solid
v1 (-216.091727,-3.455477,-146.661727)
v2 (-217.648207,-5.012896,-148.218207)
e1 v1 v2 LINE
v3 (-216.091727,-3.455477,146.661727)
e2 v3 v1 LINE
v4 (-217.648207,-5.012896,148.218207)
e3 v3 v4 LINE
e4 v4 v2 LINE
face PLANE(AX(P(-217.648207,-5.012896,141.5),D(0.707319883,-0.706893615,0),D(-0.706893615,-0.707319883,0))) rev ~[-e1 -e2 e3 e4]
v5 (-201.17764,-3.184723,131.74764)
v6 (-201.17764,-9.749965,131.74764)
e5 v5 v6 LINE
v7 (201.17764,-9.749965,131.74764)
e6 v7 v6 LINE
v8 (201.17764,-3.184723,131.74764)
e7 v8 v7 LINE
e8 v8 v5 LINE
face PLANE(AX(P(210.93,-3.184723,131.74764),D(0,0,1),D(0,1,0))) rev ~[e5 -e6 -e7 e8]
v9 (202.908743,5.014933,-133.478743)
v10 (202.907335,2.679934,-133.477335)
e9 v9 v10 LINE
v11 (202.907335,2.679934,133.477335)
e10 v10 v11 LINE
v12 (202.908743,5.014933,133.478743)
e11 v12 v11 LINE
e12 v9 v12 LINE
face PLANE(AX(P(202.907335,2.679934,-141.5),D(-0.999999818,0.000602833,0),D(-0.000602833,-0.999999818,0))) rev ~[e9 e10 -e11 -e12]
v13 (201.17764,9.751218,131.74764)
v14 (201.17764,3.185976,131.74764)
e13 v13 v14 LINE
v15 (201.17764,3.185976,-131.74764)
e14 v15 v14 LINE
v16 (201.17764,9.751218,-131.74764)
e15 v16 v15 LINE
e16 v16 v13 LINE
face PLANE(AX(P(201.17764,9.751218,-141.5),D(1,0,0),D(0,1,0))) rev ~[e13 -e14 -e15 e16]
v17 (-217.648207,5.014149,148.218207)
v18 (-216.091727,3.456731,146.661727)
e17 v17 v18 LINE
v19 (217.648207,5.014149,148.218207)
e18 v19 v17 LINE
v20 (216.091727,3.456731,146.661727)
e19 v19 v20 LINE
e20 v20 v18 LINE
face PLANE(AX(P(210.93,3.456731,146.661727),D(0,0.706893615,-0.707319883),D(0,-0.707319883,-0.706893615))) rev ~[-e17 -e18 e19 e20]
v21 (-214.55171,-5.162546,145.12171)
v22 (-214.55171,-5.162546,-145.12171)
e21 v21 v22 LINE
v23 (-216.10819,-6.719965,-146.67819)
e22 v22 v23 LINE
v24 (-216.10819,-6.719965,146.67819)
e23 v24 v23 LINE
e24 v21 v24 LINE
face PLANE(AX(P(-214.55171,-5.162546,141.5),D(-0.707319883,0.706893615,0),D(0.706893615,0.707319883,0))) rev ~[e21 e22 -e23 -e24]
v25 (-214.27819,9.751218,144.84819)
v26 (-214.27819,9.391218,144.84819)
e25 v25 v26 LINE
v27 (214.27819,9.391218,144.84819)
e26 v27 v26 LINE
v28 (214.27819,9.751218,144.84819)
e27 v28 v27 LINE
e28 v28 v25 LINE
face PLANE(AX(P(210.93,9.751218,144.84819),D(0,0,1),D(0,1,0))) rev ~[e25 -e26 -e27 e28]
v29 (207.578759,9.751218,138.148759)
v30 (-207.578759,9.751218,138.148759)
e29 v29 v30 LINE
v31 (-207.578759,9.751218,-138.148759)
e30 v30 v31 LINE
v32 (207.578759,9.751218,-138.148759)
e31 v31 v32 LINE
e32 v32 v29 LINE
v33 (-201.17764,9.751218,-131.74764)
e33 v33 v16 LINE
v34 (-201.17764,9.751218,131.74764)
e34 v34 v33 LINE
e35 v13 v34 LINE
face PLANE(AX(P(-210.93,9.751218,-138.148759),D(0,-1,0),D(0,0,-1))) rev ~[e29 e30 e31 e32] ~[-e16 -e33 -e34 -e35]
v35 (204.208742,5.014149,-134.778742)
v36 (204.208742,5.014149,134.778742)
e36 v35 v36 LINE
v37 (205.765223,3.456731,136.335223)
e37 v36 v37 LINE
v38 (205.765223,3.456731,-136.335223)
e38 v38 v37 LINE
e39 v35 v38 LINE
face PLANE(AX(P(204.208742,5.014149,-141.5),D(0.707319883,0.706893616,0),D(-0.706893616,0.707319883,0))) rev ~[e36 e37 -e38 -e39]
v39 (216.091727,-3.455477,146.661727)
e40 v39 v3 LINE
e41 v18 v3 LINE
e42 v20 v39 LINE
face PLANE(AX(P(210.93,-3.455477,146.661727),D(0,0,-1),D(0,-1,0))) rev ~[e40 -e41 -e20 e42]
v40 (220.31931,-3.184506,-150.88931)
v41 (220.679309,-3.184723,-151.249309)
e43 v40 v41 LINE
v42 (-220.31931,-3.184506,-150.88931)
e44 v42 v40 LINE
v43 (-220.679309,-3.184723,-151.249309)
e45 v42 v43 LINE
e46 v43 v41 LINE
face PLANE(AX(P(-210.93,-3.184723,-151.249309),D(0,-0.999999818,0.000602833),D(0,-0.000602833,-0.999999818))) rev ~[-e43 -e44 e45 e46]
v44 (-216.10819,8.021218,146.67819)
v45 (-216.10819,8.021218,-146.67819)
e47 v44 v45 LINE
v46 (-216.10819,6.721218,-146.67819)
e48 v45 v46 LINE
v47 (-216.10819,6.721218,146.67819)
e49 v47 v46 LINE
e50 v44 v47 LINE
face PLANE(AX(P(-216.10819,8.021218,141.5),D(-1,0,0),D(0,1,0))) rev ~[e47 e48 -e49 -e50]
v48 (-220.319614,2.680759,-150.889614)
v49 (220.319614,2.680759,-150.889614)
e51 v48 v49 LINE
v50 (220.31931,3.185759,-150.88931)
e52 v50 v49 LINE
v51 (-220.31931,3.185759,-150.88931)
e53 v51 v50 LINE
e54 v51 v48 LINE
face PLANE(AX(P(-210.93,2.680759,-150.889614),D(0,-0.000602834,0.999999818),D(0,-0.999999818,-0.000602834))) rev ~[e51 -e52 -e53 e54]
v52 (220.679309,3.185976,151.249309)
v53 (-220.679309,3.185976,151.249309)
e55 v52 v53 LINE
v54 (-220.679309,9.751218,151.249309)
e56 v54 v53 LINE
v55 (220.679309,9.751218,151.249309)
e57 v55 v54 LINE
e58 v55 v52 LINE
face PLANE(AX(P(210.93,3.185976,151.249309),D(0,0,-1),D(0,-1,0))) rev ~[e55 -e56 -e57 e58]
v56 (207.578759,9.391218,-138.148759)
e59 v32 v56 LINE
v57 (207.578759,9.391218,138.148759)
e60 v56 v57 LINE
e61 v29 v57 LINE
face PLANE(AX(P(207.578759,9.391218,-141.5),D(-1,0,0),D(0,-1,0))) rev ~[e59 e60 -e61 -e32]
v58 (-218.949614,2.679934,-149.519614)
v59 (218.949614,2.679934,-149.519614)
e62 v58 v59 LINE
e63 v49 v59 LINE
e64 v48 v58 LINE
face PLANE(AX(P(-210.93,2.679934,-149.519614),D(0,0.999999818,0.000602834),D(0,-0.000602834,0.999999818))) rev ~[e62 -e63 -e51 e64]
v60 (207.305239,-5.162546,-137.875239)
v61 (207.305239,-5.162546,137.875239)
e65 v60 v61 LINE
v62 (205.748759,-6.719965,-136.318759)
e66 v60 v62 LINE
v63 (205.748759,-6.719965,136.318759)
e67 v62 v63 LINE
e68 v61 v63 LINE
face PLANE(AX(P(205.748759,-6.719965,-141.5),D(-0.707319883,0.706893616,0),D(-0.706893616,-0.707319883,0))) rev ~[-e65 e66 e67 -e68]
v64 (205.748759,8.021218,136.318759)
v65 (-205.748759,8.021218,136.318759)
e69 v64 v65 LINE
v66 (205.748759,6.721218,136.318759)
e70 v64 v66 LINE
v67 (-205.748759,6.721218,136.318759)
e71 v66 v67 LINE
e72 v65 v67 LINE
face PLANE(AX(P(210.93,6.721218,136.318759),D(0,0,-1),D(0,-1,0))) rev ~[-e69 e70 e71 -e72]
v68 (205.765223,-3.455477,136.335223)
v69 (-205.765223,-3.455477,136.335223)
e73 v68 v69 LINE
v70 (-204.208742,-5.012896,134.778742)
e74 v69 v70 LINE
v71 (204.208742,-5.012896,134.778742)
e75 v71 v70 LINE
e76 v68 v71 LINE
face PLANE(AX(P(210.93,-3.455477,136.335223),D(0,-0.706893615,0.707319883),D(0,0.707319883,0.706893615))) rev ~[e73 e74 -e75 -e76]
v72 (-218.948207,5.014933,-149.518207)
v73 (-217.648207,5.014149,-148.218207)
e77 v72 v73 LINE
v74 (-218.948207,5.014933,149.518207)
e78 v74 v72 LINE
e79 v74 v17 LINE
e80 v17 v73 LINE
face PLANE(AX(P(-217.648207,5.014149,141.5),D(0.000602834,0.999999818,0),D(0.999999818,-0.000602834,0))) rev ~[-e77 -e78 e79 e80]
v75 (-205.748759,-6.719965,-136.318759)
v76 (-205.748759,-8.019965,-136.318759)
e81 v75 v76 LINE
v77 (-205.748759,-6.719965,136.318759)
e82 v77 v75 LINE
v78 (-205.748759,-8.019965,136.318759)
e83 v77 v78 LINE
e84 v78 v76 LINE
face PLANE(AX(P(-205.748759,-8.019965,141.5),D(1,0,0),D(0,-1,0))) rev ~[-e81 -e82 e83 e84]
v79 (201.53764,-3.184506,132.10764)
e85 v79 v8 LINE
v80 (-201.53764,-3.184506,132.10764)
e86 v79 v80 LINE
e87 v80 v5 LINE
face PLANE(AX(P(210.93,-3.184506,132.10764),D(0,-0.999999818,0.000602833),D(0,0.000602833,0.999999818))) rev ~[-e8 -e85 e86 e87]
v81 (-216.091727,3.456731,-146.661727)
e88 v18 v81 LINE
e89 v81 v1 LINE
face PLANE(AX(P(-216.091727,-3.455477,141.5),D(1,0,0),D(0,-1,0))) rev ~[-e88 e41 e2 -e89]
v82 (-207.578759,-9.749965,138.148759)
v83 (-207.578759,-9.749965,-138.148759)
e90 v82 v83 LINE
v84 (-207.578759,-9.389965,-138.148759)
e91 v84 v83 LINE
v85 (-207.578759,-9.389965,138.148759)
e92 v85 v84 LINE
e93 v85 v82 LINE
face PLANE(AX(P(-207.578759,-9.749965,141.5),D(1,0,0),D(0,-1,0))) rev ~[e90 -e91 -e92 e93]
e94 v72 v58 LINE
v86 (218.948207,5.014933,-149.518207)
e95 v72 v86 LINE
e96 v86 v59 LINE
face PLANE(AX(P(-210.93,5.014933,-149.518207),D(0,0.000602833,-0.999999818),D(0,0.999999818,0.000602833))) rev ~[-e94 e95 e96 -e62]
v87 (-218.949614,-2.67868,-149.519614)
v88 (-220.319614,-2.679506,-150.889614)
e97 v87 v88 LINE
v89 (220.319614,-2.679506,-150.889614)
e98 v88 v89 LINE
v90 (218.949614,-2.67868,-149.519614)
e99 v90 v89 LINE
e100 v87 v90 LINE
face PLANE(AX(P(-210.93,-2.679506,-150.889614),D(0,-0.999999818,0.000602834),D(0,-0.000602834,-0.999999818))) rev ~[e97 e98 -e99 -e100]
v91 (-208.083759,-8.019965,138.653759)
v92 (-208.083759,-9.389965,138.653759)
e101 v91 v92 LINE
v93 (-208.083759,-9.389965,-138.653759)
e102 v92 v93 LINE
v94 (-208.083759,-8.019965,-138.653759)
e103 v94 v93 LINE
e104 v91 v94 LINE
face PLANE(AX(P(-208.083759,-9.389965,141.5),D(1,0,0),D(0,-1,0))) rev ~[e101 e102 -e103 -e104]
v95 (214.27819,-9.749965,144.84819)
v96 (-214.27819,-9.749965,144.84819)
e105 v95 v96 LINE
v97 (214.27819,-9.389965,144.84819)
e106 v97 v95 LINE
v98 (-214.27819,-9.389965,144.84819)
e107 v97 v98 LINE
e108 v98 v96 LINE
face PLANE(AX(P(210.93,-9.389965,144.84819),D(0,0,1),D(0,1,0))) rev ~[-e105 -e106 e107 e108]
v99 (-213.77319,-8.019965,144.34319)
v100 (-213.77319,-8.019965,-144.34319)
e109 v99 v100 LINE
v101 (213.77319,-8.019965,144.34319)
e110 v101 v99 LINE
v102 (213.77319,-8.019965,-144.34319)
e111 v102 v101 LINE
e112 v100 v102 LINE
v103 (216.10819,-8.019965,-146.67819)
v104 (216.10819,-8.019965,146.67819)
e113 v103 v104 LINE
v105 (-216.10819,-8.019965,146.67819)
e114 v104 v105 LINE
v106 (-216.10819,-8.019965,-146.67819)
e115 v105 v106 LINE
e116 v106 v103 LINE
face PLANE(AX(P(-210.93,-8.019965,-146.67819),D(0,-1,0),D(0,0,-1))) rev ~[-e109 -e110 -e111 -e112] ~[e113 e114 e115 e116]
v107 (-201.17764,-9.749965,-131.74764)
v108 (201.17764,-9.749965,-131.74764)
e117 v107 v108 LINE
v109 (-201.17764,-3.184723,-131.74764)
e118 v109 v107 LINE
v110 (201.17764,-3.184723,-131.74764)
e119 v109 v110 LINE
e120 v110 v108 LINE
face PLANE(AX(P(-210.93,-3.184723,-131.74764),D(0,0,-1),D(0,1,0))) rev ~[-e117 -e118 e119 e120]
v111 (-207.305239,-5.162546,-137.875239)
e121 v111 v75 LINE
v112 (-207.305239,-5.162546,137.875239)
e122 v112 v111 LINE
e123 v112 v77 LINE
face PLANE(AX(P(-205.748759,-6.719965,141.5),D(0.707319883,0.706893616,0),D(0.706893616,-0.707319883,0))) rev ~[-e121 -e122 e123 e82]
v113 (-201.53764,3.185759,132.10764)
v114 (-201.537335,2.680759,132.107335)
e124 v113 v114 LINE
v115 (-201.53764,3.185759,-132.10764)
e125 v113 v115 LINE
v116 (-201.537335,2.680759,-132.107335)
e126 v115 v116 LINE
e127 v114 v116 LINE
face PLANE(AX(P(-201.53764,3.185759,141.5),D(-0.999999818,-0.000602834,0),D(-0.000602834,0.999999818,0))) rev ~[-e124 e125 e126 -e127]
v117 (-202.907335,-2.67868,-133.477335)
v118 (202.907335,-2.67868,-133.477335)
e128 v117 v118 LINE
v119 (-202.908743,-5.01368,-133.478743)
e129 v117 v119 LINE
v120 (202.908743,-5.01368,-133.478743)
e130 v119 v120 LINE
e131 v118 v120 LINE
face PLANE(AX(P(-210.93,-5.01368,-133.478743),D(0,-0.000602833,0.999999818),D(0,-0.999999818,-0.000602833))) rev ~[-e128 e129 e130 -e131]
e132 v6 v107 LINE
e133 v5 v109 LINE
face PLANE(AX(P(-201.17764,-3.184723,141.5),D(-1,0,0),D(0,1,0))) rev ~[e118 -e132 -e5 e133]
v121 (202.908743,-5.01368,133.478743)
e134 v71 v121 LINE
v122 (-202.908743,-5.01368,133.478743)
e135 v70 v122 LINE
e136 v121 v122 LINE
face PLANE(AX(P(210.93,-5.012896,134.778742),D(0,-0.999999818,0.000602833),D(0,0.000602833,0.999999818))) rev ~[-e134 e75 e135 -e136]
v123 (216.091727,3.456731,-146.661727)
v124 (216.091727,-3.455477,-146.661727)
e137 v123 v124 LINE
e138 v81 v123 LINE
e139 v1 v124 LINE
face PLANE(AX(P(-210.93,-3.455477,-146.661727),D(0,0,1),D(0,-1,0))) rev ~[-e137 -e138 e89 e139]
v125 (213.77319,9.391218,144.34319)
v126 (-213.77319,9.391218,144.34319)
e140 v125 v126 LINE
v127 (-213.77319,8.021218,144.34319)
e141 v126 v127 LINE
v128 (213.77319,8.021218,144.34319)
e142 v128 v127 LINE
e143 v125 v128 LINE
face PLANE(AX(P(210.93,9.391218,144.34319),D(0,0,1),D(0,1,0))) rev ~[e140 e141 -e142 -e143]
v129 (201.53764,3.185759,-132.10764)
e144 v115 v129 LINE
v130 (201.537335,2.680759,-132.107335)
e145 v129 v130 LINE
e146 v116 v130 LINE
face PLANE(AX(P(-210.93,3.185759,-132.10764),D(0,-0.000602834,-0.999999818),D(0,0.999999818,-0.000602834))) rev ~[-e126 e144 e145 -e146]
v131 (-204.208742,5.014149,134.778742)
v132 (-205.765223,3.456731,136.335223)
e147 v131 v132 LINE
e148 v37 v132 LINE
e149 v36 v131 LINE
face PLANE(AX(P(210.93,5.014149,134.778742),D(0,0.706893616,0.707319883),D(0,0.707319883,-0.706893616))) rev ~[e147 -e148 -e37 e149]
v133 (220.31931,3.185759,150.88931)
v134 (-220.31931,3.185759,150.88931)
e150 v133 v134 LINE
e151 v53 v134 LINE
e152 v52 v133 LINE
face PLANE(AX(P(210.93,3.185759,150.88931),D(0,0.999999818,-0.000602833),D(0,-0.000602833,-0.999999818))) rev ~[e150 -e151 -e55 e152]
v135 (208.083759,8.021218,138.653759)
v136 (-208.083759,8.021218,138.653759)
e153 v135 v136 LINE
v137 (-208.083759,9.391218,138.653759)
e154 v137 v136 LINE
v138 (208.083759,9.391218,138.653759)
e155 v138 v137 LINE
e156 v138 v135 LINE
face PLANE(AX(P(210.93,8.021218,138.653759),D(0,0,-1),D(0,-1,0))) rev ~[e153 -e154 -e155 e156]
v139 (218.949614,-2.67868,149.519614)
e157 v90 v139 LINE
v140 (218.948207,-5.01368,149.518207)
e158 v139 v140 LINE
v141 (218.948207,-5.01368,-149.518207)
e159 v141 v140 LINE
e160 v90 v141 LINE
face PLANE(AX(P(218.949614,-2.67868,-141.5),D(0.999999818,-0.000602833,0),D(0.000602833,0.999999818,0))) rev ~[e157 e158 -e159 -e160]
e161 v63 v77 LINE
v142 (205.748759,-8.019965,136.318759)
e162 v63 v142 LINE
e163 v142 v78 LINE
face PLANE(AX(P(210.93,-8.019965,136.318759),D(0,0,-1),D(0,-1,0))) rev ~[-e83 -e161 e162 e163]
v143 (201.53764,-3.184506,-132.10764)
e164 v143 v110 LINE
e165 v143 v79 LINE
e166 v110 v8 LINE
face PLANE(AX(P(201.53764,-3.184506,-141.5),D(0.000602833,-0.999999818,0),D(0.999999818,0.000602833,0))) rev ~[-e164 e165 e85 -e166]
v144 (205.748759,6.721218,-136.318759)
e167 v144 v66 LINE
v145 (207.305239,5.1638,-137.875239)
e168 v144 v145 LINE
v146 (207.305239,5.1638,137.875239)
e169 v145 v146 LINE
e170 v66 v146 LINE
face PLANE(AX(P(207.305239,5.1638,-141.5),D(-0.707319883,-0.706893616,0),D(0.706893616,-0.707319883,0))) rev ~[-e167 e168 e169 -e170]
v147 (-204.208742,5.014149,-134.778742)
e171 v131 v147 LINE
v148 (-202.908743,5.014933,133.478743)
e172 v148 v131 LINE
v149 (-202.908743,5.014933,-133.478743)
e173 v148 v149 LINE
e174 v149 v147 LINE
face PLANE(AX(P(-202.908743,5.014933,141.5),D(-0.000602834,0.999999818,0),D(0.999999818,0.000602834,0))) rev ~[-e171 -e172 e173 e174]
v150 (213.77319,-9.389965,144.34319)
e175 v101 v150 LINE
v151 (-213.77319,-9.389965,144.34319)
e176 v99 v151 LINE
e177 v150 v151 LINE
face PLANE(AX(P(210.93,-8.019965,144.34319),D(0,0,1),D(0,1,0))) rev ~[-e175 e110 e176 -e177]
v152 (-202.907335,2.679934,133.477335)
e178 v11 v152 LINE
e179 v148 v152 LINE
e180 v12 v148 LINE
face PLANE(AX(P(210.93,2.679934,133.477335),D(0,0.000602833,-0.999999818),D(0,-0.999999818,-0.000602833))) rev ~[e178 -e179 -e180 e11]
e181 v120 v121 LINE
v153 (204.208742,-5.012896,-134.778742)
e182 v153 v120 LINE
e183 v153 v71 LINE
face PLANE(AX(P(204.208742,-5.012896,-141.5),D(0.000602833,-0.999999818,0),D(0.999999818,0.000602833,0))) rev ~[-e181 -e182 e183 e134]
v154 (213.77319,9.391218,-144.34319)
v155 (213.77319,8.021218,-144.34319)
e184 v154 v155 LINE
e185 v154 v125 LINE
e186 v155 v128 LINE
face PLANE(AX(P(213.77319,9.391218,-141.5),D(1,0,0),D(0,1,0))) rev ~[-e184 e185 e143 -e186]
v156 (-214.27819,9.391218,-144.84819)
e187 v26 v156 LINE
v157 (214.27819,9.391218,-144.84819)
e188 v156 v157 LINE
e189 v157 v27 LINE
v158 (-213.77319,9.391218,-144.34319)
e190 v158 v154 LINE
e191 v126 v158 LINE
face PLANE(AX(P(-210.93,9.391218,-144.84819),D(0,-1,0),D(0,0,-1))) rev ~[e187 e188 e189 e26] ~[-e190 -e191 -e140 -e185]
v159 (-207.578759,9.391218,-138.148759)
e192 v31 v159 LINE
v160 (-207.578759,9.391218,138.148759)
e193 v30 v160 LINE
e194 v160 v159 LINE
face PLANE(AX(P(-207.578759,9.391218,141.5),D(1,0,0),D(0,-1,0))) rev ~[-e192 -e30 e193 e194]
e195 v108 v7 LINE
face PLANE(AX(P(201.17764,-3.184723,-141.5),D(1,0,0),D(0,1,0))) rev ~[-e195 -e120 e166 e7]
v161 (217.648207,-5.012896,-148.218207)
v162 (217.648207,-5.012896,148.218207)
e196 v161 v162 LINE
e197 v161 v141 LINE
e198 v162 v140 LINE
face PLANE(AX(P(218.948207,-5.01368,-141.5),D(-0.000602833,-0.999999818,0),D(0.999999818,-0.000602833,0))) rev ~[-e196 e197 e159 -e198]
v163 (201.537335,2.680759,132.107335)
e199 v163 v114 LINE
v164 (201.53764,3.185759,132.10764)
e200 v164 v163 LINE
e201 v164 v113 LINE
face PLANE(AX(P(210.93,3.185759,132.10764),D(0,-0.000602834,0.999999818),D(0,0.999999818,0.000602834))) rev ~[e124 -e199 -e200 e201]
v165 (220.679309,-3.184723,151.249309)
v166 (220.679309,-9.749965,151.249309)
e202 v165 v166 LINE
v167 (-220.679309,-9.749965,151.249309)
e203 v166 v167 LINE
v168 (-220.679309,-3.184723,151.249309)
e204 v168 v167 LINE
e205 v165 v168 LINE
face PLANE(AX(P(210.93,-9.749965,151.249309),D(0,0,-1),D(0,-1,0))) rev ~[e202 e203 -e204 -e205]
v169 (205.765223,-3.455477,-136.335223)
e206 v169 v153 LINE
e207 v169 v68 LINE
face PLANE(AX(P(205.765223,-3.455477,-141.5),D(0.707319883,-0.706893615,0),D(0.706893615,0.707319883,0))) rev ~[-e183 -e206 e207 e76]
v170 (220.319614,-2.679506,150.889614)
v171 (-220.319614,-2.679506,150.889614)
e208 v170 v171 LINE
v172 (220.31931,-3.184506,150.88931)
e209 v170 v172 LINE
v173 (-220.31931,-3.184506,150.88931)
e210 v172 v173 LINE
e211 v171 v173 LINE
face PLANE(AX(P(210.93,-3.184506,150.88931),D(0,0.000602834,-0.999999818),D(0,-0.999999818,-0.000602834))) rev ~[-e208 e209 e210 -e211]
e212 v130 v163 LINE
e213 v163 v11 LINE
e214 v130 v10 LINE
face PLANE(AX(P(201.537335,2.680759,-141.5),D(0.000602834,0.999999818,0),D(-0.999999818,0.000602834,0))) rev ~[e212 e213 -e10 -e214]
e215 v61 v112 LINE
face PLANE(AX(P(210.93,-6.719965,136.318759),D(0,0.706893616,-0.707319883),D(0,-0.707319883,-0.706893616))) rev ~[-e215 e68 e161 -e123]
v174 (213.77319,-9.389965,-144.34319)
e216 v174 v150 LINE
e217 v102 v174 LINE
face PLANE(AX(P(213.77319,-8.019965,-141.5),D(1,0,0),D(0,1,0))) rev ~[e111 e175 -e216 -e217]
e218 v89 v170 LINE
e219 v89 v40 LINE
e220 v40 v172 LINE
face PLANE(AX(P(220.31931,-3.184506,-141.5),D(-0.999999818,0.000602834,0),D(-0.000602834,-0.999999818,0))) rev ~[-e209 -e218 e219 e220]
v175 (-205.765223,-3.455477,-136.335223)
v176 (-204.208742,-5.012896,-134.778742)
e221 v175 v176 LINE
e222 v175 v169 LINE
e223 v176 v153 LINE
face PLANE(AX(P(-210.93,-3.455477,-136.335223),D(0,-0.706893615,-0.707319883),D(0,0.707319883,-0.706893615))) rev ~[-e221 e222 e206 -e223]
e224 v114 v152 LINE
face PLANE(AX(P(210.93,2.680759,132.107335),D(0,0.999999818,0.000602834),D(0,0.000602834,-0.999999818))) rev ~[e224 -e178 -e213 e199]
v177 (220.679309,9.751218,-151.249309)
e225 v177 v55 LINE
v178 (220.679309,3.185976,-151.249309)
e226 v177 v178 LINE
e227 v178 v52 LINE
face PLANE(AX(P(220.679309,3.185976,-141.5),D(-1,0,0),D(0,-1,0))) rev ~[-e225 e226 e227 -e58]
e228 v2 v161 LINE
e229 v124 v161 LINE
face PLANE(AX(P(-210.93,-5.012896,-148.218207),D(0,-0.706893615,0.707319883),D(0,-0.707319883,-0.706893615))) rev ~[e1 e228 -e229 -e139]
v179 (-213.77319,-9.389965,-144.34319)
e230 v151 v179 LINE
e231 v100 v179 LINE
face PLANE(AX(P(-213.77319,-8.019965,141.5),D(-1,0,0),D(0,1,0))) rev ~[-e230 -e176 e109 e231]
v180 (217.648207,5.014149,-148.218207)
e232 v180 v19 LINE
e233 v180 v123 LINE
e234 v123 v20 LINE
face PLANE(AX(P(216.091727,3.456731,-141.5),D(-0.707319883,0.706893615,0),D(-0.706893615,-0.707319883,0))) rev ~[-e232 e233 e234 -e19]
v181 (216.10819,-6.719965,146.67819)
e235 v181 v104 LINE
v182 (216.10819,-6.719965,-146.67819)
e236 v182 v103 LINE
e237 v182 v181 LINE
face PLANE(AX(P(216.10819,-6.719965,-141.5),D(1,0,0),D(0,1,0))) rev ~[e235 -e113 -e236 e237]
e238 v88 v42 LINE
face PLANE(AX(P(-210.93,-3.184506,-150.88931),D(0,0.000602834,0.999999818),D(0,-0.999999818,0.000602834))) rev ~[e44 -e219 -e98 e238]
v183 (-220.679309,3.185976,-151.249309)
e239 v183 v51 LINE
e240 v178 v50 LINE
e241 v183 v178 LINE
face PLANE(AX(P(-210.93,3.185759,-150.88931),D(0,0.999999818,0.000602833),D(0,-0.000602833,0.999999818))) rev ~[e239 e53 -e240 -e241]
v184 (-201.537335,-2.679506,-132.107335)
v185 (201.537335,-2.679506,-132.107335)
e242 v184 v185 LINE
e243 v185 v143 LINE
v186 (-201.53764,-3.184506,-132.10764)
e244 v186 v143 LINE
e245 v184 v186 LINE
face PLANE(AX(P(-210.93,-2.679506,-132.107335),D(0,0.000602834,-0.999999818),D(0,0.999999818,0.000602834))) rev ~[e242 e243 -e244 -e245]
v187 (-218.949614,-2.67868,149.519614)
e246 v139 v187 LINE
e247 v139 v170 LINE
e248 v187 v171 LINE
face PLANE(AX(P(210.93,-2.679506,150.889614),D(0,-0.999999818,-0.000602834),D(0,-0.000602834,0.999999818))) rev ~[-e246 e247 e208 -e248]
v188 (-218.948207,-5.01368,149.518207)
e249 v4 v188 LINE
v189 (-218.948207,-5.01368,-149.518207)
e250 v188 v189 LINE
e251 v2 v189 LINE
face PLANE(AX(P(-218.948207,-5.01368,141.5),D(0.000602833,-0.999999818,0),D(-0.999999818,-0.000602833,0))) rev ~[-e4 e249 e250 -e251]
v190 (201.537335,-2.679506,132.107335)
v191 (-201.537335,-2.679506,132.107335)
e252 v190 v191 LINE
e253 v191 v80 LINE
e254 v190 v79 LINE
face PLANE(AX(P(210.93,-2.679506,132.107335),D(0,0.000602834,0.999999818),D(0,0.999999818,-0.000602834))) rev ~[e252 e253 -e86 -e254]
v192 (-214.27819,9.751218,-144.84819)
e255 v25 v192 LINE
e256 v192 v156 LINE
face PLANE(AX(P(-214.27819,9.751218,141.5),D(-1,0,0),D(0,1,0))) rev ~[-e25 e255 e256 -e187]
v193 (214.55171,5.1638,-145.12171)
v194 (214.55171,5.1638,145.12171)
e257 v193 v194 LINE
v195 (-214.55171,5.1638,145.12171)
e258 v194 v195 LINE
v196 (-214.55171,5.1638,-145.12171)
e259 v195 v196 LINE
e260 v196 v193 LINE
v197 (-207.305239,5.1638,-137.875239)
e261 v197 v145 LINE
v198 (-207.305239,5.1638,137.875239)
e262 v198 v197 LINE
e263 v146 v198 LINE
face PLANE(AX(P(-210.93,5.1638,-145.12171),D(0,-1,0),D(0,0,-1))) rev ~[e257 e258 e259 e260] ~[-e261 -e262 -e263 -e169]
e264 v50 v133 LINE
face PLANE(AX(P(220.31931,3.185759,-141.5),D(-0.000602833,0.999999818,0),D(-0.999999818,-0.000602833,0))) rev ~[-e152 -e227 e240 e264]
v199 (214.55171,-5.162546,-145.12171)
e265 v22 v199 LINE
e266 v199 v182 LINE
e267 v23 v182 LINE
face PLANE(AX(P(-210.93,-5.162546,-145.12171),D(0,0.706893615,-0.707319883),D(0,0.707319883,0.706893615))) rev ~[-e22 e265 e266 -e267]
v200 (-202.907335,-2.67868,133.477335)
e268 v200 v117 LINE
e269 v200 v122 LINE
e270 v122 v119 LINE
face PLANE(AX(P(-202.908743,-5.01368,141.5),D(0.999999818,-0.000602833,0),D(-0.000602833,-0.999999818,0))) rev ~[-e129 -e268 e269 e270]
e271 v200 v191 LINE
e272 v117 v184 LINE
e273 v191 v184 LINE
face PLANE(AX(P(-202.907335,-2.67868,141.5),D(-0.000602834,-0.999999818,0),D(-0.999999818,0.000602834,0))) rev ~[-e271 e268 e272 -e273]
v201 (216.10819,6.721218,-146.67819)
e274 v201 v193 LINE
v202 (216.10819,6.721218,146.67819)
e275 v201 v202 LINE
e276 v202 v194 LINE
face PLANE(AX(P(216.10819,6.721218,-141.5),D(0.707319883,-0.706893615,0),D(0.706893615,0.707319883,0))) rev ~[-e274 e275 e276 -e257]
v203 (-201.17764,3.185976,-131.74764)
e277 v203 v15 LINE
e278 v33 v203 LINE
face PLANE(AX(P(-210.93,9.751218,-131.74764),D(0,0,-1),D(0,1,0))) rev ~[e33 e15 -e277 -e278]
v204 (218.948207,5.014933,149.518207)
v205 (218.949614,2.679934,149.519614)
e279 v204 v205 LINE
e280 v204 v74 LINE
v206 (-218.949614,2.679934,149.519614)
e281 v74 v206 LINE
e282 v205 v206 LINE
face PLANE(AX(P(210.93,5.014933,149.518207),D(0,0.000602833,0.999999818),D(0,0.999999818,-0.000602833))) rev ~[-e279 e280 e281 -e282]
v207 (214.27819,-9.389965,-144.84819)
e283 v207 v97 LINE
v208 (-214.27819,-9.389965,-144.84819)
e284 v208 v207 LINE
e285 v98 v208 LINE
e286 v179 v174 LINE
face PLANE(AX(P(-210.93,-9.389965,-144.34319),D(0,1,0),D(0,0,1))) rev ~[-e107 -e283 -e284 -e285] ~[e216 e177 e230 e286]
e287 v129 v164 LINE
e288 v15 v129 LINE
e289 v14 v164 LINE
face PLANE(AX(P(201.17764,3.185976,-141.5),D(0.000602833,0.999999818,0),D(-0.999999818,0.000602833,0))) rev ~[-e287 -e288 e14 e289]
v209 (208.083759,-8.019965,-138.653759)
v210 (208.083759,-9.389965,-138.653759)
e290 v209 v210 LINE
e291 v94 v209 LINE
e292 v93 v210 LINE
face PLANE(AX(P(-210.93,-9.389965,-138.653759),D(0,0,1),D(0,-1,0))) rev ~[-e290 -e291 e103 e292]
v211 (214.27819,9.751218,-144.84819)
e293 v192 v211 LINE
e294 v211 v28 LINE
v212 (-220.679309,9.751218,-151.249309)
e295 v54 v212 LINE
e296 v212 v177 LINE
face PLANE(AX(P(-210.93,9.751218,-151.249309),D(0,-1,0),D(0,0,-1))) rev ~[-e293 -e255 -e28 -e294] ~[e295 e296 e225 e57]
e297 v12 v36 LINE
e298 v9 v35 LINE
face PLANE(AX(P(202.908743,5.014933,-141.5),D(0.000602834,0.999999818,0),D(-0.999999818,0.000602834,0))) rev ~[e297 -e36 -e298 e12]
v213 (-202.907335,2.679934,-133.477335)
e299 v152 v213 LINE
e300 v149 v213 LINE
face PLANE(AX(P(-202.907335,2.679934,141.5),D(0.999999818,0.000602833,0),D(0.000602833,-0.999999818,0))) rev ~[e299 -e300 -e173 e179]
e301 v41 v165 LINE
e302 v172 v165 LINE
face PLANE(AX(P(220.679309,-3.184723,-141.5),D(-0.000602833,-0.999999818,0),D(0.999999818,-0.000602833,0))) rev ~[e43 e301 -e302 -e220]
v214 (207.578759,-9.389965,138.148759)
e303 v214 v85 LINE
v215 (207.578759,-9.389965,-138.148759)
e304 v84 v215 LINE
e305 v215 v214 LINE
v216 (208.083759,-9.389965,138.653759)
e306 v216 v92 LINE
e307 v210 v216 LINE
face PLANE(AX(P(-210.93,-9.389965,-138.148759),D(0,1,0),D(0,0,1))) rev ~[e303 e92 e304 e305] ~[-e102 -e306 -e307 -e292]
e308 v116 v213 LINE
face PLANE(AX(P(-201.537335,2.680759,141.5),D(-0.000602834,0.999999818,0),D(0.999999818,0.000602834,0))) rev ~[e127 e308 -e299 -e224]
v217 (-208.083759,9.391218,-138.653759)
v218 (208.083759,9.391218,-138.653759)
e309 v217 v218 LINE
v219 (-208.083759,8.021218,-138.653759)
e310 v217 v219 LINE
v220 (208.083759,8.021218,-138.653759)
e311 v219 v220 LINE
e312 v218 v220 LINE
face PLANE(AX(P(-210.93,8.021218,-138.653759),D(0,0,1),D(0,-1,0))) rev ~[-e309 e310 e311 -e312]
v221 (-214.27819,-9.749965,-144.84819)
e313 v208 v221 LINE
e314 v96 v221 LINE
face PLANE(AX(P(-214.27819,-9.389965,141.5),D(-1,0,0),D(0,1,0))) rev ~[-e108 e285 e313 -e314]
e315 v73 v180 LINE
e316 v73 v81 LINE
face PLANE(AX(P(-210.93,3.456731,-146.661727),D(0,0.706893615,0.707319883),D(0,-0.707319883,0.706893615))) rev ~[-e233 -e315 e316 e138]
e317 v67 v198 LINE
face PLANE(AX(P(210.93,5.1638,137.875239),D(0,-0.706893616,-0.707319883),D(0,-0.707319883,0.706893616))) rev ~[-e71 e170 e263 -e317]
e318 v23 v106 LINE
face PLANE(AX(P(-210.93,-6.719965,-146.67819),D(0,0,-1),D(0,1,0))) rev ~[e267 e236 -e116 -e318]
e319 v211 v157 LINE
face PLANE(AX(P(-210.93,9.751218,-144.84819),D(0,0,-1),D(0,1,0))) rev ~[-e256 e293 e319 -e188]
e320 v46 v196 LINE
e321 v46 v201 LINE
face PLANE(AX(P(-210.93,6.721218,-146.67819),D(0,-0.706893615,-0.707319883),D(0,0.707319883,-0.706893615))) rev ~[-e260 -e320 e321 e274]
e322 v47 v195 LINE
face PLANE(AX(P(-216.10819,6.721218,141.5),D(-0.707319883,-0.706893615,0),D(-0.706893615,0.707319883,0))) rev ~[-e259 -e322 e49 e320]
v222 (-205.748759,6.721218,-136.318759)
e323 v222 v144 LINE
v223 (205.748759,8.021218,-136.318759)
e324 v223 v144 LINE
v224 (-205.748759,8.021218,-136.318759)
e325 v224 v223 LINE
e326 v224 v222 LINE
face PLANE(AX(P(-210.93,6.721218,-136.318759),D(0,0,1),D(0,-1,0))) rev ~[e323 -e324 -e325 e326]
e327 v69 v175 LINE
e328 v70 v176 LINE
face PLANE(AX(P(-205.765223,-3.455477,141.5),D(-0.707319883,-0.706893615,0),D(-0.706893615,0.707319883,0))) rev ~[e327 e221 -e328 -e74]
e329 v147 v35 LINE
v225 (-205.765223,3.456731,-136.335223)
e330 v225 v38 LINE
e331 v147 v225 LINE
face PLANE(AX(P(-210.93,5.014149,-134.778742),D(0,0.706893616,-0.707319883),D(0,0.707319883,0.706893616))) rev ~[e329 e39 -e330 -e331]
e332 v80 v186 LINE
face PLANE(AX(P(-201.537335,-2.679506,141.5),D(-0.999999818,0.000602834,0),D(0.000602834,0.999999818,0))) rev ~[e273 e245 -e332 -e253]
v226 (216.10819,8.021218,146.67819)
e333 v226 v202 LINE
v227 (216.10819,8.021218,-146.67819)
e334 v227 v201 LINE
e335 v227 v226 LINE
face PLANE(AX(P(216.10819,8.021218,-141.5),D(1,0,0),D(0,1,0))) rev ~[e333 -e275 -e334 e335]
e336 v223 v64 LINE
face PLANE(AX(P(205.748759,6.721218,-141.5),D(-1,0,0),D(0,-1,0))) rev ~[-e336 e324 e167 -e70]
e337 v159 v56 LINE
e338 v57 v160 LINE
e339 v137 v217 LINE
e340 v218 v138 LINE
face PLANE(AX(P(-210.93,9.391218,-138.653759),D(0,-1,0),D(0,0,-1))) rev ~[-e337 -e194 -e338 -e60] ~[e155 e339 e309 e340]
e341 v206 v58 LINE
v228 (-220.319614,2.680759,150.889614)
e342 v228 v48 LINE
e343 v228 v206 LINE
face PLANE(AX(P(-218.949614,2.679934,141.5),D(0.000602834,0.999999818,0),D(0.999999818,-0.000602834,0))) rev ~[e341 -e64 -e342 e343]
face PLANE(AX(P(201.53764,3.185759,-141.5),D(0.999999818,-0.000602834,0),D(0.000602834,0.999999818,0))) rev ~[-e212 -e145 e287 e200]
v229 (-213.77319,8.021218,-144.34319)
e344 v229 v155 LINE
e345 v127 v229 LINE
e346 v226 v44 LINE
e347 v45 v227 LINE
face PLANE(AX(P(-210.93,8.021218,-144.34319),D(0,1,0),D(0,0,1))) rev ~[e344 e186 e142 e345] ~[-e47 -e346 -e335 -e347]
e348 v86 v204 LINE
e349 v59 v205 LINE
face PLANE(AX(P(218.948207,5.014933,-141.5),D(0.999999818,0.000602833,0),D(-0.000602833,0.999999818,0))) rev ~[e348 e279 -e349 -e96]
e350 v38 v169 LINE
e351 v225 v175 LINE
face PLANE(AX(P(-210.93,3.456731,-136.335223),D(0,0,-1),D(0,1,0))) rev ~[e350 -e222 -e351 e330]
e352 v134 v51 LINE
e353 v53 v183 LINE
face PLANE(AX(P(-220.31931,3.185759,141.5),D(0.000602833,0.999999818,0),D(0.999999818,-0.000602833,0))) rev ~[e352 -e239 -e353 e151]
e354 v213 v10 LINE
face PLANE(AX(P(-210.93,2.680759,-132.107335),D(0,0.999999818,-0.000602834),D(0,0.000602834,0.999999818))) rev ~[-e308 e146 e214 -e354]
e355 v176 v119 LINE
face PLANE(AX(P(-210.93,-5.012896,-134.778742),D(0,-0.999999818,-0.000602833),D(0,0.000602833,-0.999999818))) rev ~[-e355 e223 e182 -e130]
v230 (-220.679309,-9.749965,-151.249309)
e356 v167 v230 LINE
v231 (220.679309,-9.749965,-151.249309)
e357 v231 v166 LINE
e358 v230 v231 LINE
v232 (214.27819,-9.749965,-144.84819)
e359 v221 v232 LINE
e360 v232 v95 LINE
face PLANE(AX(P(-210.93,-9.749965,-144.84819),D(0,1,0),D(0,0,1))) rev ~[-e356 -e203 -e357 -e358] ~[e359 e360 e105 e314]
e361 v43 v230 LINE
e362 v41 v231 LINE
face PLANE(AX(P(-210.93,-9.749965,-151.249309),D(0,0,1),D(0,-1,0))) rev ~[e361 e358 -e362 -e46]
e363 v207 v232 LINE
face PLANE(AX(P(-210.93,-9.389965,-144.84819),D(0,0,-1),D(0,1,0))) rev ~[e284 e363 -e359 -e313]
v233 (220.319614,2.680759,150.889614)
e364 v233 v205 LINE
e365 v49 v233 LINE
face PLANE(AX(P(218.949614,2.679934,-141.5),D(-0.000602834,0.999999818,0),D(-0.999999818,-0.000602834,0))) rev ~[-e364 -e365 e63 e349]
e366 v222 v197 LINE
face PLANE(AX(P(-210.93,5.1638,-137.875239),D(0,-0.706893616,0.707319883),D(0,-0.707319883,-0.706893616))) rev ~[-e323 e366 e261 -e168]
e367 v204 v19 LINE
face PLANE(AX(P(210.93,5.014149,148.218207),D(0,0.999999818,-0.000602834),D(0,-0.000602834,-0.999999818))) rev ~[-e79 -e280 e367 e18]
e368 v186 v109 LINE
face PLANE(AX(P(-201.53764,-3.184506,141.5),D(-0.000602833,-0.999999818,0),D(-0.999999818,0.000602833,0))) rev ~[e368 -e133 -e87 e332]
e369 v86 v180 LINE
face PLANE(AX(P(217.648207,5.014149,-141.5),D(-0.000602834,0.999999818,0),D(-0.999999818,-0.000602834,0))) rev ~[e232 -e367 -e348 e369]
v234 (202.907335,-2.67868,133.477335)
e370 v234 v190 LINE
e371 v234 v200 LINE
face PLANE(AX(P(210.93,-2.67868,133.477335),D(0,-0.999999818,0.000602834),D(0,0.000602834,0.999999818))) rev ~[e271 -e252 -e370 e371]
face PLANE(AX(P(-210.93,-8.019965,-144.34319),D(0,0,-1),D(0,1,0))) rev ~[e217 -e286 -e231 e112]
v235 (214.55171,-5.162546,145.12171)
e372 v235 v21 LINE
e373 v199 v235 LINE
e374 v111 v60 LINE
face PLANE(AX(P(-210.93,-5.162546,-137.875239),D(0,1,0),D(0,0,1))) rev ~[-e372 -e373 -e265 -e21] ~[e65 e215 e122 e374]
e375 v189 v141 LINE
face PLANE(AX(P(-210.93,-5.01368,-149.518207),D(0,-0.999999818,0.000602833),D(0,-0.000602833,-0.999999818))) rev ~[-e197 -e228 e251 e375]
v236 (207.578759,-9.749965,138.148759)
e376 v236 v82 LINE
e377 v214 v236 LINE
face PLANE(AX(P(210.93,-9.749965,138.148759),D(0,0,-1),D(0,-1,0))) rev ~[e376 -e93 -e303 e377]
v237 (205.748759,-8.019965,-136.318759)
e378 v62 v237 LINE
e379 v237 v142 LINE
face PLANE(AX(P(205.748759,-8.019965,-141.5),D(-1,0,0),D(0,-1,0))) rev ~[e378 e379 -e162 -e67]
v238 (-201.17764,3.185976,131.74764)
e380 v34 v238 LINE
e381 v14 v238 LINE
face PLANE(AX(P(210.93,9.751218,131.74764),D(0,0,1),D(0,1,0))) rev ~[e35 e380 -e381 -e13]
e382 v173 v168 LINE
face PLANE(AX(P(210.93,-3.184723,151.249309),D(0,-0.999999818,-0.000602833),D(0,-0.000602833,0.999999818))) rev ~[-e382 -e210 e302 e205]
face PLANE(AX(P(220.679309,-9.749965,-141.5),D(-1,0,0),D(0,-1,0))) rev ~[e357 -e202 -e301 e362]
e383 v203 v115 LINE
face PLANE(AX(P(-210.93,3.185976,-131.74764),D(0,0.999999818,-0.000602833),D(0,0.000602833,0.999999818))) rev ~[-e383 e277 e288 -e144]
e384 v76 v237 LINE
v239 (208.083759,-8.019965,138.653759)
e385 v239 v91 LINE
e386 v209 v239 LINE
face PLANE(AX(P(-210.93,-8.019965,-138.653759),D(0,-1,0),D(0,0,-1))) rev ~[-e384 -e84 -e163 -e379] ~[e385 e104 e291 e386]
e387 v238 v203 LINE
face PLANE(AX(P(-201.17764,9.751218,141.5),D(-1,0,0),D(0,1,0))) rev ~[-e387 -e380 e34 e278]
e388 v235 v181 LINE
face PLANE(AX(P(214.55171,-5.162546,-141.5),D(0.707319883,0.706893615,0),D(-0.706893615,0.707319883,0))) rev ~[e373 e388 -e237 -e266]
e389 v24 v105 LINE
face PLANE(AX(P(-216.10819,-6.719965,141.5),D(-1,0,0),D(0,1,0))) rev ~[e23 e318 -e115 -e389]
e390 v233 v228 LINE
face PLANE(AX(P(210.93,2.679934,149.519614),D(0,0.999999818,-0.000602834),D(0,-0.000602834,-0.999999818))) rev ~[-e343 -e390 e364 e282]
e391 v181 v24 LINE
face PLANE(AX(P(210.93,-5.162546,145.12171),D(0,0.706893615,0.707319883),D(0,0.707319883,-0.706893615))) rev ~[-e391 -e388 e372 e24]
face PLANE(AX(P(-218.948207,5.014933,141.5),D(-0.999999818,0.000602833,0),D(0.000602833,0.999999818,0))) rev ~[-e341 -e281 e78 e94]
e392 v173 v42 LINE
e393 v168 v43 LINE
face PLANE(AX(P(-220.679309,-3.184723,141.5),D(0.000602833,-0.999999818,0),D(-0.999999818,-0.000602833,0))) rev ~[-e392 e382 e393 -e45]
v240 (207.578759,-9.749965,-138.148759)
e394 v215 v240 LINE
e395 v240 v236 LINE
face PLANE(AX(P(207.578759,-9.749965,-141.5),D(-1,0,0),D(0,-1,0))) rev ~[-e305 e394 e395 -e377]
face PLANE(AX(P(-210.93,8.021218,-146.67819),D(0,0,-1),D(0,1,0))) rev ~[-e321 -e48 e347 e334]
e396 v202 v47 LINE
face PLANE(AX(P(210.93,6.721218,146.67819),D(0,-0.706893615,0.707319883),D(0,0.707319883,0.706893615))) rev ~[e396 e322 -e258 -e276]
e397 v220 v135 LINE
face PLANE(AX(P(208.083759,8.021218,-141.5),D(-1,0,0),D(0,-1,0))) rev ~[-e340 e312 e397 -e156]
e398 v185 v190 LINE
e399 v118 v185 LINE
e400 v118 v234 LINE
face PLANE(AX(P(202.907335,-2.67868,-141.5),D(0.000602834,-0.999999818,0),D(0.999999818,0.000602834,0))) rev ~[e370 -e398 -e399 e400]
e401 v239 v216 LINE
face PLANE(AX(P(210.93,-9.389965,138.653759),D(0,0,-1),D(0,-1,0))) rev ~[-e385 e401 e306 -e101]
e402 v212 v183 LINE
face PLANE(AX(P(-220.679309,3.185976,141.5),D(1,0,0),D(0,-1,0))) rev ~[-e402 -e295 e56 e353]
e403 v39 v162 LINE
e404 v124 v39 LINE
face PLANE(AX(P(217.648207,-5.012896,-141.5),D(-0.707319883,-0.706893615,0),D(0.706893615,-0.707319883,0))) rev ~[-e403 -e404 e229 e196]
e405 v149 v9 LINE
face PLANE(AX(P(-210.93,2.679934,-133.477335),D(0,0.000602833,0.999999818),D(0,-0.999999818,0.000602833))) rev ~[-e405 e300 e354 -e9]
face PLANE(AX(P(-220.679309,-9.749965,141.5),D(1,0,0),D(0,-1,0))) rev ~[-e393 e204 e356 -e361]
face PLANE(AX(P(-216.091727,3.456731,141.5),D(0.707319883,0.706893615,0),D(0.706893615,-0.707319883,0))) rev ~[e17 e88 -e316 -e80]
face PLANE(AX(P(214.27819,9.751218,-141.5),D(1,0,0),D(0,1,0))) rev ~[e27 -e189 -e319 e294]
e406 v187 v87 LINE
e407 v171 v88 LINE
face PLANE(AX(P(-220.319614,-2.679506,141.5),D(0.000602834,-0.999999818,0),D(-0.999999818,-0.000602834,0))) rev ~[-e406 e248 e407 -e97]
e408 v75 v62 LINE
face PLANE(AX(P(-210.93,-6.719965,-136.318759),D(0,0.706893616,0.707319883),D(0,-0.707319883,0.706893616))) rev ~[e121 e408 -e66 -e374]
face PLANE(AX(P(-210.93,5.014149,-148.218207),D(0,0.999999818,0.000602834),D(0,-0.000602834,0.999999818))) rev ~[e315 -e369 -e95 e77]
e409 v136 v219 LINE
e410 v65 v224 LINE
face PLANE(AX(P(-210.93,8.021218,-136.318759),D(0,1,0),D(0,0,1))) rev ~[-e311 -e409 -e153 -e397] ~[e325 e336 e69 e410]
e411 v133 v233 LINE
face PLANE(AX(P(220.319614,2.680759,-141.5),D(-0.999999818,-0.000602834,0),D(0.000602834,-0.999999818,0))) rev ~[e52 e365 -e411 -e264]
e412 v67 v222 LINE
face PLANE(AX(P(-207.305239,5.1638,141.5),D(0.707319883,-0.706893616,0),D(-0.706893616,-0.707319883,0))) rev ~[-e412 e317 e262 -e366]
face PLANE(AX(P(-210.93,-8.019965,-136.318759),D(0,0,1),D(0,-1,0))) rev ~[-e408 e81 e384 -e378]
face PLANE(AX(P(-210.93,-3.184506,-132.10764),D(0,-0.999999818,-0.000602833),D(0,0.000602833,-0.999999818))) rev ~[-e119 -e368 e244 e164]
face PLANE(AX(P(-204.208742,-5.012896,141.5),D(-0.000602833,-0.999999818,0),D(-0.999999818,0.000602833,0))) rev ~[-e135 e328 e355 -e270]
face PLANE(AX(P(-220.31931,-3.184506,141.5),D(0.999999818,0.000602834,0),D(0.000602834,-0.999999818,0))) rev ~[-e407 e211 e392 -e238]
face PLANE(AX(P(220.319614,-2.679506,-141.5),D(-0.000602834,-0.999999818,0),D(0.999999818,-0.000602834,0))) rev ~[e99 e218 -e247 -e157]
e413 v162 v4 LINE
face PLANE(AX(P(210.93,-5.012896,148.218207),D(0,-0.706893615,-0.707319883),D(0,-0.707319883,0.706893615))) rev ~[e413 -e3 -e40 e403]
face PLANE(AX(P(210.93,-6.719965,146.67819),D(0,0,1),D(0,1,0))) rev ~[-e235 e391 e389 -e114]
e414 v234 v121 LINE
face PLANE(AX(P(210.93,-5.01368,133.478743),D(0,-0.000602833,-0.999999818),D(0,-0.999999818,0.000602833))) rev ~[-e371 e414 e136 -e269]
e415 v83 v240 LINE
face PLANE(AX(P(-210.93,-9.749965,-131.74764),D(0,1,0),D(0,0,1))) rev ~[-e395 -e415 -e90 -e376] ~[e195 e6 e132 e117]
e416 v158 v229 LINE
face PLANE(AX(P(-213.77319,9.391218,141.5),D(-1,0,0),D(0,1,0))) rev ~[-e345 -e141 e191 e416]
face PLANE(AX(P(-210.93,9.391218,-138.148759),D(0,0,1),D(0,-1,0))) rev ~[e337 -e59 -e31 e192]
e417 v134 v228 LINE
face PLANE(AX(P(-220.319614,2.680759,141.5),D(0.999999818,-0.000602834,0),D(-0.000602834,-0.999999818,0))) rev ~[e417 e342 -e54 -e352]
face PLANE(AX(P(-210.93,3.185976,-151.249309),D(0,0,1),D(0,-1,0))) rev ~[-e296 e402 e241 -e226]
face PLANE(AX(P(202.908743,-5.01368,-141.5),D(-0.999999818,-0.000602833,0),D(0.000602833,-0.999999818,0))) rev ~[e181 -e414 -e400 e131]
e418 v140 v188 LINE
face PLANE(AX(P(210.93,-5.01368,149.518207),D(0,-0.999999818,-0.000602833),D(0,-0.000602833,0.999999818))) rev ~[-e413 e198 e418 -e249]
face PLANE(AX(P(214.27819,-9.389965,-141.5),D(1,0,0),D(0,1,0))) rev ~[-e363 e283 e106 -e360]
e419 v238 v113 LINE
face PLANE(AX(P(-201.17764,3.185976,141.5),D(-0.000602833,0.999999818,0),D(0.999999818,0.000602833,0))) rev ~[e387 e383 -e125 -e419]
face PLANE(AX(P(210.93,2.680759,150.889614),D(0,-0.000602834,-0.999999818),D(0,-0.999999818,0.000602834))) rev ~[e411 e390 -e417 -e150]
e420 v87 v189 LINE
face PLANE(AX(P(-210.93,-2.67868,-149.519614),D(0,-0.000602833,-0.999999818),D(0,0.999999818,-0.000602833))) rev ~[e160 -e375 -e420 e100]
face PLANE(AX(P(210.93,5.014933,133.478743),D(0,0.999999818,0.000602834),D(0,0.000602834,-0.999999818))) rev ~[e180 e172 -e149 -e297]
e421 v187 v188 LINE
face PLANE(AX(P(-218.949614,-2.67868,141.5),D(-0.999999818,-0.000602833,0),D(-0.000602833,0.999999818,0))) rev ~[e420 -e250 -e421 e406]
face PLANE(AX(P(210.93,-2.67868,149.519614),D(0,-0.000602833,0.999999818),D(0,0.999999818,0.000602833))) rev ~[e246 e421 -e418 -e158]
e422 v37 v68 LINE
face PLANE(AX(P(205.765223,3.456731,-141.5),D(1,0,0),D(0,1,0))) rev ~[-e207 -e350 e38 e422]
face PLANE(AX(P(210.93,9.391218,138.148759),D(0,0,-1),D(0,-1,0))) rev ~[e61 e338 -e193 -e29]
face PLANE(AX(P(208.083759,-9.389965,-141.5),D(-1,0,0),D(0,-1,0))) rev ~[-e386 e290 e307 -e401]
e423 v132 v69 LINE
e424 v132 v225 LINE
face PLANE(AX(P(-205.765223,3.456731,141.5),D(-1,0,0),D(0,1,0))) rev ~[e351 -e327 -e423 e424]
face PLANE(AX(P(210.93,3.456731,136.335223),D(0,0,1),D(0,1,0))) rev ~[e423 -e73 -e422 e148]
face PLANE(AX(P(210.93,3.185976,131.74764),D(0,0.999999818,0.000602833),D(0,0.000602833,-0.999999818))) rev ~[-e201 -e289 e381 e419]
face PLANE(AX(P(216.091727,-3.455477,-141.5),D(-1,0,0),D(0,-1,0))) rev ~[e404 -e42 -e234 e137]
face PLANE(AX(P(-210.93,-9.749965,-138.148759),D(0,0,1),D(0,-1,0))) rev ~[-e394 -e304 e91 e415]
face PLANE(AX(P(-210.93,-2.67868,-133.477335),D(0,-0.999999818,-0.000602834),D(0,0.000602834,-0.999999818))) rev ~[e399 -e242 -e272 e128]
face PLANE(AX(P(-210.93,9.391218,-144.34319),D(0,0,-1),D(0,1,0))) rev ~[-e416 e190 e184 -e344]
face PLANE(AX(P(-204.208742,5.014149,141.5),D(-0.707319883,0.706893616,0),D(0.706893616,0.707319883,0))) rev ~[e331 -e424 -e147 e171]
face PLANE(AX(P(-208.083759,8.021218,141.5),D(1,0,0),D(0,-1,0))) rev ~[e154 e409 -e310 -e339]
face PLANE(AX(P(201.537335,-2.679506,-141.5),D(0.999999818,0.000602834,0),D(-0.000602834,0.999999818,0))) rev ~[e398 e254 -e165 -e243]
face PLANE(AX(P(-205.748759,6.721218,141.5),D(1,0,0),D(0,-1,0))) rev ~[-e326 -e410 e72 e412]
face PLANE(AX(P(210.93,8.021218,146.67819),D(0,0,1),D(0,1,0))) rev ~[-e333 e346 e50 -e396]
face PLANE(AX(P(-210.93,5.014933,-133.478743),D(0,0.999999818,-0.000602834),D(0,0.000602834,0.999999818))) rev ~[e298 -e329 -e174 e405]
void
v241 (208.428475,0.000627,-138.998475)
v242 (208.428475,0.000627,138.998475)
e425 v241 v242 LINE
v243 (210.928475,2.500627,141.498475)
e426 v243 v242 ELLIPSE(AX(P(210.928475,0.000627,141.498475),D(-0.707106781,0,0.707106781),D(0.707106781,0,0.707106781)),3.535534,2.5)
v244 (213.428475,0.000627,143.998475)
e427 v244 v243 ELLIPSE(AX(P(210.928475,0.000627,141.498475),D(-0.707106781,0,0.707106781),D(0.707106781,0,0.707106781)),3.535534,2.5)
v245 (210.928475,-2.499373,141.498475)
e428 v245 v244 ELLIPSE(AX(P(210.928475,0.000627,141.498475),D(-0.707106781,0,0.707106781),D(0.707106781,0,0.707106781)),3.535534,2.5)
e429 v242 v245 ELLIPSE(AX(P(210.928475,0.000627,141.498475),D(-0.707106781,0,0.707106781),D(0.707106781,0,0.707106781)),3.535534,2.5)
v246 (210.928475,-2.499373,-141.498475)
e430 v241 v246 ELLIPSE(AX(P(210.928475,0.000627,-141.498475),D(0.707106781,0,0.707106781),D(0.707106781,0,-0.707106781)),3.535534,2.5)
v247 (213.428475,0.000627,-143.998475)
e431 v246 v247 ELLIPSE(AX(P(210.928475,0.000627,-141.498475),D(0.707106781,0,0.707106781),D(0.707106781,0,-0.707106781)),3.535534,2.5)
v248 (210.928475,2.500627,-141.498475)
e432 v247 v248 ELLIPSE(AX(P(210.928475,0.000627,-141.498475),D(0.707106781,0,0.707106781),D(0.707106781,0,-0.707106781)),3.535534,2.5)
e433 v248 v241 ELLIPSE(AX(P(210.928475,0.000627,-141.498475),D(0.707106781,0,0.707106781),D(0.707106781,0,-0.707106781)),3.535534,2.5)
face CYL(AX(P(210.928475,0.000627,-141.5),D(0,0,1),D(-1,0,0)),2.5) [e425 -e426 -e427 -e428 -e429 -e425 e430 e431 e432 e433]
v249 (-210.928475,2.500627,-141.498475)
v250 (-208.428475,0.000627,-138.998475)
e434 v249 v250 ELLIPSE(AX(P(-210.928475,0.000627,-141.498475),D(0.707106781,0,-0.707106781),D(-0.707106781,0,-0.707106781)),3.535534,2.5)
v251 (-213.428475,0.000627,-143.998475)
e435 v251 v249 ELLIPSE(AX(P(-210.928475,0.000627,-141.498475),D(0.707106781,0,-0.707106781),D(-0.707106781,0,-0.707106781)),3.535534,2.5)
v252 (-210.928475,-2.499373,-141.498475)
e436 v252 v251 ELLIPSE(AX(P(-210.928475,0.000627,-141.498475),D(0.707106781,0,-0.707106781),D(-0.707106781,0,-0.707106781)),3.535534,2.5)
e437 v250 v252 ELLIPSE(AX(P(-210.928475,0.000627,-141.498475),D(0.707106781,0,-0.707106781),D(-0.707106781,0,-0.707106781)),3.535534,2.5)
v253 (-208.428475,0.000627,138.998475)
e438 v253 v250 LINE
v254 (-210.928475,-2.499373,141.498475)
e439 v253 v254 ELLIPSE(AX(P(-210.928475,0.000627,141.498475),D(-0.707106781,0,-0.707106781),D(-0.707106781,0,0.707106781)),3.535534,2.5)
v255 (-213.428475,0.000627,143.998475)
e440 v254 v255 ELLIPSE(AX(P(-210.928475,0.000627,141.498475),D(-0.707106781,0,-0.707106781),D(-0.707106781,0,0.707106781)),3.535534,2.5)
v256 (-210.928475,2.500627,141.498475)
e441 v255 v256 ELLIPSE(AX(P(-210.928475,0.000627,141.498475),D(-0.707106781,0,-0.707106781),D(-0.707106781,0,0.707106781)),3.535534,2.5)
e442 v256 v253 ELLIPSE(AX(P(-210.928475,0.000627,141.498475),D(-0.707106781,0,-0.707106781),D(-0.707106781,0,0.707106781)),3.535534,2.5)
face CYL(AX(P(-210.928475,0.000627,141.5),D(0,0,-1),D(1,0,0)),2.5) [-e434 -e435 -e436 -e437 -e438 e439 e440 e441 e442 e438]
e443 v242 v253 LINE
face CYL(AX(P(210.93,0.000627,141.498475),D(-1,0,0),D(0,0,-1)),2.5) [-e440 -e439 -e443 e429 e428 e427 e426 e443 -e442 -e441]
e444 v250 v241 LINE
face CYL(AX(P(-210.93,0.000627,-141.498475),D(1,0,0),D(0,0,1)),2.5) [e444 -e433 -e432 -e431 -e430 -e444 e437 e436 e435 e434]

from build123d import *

# Parameters (mm, degrees)
CROQUIS2_R = 2.5


with BuildPart() as part:
    # Barrer1: sweep along a path in Croquis1
    with BuildLine(Plane(origin=(0, 0, 0), x_dir=(1, 0, 0), z_dir=(0, 1, 0))) as barrer1_path:
        Line((-210.93, 141.5), (210.93, 141.5))
        Line((210.93, 141.5), (210.93, -141.5))
        Line((210.93, -141.5), (-210.93, -141.5))
        Line((-210.93, -141.5), (-210.93, 141.5))
    # Croquis2 → Barrer1 (sweep)
    with BuildSketch(Plane(origin=(0, 0, 0), x_dir=(0, 0, -1), z_dir=(1, 0, 0))):
        Polygon((-144.848190044, 9.751218458), (-144.848190044, 9.391218458), (-144.343190044, 9.391218458), (-144.343190044, 8.021218458), (-146.678190044, 8.021218458), (-146.678190044, 6.721218458), (-145.121709911, 5.163799744), (-137.875239336, 5.163799744), (-136.318759202, 6.721218458), (-136.318759202, 8.021218458), (-138.653759202, 8.021218458), (-138.653759202, 9.391218458), (-138.148759202, 9.391218458), (-138.148759202, 9.751218458), (-131.747639801, 9.751218458), (-131.747639801, 3.185976388), (-132.107639736, 3.185759368), (-132.107335305, 2.68075946), (-133.477335056, 2.679933578), (-133.478742672, 5.014933154), (-134.778742435, 5.01414947), (-136.335222569, 3.456730756), (-136.335222569, -3.455477102), (-134.778742435, -5.012895817), (-133.478742672, -5.0136795), (-133.477335056, -2.678679924), (-132.107335305, -2.679505806), (-132.107639736, -3.184505714), (-131.747639801, -3.184722734), (-131.747639801, -9.749964804), (-138.148759202, -9.749964804), (-138.148759202, -9.389964804), (-138.653759202, -9.389964804), (-138.653759202, -8.019964804), (-136.318759202, -8.019964804), (-136.318759202, -6.719964804), (-137.875239336, -5.16254609), (-145.121709911, -5.16254609), (-146.678190044, -6.719964804), (-146.678190044, -8.019964804), (-144.343190044, -8.019964804), (-144.343190044, -9.389964804), (-144.848190044, -9.389964804), (-144.848190044, -9.749964804), (-151.249309446, -9.749964804), (-151.249309446, -3.184722734), (-150.889309511, -3.184505714), (-150.889613942, -2.679505806), (-149.519614191, -2.678679924), (-149.518206575, -5.0136795), (-148.218206811, -5.012895817), (-146.661726678, -3.455477102), (-146.661726678, 3.456730756), (-148.218206811, 5.01414947), (-149.518206575, 5.014933154), (-149.519614191, 2.679933578), (-150.889613942, 2.68075946), (-150.889309511, 3.185759368), (-151.249309446, 3.185976388), (-151.249309446, 9.751218458), align=None)
        with Locations((-141.498474623, 0.000626827)):
            Circle(CROQUIS2_R, mode=Mode.SUBTRACT)
    sweep(path=barrer1_path.line, transition=Transition.RIGHT)


solid = part.part
